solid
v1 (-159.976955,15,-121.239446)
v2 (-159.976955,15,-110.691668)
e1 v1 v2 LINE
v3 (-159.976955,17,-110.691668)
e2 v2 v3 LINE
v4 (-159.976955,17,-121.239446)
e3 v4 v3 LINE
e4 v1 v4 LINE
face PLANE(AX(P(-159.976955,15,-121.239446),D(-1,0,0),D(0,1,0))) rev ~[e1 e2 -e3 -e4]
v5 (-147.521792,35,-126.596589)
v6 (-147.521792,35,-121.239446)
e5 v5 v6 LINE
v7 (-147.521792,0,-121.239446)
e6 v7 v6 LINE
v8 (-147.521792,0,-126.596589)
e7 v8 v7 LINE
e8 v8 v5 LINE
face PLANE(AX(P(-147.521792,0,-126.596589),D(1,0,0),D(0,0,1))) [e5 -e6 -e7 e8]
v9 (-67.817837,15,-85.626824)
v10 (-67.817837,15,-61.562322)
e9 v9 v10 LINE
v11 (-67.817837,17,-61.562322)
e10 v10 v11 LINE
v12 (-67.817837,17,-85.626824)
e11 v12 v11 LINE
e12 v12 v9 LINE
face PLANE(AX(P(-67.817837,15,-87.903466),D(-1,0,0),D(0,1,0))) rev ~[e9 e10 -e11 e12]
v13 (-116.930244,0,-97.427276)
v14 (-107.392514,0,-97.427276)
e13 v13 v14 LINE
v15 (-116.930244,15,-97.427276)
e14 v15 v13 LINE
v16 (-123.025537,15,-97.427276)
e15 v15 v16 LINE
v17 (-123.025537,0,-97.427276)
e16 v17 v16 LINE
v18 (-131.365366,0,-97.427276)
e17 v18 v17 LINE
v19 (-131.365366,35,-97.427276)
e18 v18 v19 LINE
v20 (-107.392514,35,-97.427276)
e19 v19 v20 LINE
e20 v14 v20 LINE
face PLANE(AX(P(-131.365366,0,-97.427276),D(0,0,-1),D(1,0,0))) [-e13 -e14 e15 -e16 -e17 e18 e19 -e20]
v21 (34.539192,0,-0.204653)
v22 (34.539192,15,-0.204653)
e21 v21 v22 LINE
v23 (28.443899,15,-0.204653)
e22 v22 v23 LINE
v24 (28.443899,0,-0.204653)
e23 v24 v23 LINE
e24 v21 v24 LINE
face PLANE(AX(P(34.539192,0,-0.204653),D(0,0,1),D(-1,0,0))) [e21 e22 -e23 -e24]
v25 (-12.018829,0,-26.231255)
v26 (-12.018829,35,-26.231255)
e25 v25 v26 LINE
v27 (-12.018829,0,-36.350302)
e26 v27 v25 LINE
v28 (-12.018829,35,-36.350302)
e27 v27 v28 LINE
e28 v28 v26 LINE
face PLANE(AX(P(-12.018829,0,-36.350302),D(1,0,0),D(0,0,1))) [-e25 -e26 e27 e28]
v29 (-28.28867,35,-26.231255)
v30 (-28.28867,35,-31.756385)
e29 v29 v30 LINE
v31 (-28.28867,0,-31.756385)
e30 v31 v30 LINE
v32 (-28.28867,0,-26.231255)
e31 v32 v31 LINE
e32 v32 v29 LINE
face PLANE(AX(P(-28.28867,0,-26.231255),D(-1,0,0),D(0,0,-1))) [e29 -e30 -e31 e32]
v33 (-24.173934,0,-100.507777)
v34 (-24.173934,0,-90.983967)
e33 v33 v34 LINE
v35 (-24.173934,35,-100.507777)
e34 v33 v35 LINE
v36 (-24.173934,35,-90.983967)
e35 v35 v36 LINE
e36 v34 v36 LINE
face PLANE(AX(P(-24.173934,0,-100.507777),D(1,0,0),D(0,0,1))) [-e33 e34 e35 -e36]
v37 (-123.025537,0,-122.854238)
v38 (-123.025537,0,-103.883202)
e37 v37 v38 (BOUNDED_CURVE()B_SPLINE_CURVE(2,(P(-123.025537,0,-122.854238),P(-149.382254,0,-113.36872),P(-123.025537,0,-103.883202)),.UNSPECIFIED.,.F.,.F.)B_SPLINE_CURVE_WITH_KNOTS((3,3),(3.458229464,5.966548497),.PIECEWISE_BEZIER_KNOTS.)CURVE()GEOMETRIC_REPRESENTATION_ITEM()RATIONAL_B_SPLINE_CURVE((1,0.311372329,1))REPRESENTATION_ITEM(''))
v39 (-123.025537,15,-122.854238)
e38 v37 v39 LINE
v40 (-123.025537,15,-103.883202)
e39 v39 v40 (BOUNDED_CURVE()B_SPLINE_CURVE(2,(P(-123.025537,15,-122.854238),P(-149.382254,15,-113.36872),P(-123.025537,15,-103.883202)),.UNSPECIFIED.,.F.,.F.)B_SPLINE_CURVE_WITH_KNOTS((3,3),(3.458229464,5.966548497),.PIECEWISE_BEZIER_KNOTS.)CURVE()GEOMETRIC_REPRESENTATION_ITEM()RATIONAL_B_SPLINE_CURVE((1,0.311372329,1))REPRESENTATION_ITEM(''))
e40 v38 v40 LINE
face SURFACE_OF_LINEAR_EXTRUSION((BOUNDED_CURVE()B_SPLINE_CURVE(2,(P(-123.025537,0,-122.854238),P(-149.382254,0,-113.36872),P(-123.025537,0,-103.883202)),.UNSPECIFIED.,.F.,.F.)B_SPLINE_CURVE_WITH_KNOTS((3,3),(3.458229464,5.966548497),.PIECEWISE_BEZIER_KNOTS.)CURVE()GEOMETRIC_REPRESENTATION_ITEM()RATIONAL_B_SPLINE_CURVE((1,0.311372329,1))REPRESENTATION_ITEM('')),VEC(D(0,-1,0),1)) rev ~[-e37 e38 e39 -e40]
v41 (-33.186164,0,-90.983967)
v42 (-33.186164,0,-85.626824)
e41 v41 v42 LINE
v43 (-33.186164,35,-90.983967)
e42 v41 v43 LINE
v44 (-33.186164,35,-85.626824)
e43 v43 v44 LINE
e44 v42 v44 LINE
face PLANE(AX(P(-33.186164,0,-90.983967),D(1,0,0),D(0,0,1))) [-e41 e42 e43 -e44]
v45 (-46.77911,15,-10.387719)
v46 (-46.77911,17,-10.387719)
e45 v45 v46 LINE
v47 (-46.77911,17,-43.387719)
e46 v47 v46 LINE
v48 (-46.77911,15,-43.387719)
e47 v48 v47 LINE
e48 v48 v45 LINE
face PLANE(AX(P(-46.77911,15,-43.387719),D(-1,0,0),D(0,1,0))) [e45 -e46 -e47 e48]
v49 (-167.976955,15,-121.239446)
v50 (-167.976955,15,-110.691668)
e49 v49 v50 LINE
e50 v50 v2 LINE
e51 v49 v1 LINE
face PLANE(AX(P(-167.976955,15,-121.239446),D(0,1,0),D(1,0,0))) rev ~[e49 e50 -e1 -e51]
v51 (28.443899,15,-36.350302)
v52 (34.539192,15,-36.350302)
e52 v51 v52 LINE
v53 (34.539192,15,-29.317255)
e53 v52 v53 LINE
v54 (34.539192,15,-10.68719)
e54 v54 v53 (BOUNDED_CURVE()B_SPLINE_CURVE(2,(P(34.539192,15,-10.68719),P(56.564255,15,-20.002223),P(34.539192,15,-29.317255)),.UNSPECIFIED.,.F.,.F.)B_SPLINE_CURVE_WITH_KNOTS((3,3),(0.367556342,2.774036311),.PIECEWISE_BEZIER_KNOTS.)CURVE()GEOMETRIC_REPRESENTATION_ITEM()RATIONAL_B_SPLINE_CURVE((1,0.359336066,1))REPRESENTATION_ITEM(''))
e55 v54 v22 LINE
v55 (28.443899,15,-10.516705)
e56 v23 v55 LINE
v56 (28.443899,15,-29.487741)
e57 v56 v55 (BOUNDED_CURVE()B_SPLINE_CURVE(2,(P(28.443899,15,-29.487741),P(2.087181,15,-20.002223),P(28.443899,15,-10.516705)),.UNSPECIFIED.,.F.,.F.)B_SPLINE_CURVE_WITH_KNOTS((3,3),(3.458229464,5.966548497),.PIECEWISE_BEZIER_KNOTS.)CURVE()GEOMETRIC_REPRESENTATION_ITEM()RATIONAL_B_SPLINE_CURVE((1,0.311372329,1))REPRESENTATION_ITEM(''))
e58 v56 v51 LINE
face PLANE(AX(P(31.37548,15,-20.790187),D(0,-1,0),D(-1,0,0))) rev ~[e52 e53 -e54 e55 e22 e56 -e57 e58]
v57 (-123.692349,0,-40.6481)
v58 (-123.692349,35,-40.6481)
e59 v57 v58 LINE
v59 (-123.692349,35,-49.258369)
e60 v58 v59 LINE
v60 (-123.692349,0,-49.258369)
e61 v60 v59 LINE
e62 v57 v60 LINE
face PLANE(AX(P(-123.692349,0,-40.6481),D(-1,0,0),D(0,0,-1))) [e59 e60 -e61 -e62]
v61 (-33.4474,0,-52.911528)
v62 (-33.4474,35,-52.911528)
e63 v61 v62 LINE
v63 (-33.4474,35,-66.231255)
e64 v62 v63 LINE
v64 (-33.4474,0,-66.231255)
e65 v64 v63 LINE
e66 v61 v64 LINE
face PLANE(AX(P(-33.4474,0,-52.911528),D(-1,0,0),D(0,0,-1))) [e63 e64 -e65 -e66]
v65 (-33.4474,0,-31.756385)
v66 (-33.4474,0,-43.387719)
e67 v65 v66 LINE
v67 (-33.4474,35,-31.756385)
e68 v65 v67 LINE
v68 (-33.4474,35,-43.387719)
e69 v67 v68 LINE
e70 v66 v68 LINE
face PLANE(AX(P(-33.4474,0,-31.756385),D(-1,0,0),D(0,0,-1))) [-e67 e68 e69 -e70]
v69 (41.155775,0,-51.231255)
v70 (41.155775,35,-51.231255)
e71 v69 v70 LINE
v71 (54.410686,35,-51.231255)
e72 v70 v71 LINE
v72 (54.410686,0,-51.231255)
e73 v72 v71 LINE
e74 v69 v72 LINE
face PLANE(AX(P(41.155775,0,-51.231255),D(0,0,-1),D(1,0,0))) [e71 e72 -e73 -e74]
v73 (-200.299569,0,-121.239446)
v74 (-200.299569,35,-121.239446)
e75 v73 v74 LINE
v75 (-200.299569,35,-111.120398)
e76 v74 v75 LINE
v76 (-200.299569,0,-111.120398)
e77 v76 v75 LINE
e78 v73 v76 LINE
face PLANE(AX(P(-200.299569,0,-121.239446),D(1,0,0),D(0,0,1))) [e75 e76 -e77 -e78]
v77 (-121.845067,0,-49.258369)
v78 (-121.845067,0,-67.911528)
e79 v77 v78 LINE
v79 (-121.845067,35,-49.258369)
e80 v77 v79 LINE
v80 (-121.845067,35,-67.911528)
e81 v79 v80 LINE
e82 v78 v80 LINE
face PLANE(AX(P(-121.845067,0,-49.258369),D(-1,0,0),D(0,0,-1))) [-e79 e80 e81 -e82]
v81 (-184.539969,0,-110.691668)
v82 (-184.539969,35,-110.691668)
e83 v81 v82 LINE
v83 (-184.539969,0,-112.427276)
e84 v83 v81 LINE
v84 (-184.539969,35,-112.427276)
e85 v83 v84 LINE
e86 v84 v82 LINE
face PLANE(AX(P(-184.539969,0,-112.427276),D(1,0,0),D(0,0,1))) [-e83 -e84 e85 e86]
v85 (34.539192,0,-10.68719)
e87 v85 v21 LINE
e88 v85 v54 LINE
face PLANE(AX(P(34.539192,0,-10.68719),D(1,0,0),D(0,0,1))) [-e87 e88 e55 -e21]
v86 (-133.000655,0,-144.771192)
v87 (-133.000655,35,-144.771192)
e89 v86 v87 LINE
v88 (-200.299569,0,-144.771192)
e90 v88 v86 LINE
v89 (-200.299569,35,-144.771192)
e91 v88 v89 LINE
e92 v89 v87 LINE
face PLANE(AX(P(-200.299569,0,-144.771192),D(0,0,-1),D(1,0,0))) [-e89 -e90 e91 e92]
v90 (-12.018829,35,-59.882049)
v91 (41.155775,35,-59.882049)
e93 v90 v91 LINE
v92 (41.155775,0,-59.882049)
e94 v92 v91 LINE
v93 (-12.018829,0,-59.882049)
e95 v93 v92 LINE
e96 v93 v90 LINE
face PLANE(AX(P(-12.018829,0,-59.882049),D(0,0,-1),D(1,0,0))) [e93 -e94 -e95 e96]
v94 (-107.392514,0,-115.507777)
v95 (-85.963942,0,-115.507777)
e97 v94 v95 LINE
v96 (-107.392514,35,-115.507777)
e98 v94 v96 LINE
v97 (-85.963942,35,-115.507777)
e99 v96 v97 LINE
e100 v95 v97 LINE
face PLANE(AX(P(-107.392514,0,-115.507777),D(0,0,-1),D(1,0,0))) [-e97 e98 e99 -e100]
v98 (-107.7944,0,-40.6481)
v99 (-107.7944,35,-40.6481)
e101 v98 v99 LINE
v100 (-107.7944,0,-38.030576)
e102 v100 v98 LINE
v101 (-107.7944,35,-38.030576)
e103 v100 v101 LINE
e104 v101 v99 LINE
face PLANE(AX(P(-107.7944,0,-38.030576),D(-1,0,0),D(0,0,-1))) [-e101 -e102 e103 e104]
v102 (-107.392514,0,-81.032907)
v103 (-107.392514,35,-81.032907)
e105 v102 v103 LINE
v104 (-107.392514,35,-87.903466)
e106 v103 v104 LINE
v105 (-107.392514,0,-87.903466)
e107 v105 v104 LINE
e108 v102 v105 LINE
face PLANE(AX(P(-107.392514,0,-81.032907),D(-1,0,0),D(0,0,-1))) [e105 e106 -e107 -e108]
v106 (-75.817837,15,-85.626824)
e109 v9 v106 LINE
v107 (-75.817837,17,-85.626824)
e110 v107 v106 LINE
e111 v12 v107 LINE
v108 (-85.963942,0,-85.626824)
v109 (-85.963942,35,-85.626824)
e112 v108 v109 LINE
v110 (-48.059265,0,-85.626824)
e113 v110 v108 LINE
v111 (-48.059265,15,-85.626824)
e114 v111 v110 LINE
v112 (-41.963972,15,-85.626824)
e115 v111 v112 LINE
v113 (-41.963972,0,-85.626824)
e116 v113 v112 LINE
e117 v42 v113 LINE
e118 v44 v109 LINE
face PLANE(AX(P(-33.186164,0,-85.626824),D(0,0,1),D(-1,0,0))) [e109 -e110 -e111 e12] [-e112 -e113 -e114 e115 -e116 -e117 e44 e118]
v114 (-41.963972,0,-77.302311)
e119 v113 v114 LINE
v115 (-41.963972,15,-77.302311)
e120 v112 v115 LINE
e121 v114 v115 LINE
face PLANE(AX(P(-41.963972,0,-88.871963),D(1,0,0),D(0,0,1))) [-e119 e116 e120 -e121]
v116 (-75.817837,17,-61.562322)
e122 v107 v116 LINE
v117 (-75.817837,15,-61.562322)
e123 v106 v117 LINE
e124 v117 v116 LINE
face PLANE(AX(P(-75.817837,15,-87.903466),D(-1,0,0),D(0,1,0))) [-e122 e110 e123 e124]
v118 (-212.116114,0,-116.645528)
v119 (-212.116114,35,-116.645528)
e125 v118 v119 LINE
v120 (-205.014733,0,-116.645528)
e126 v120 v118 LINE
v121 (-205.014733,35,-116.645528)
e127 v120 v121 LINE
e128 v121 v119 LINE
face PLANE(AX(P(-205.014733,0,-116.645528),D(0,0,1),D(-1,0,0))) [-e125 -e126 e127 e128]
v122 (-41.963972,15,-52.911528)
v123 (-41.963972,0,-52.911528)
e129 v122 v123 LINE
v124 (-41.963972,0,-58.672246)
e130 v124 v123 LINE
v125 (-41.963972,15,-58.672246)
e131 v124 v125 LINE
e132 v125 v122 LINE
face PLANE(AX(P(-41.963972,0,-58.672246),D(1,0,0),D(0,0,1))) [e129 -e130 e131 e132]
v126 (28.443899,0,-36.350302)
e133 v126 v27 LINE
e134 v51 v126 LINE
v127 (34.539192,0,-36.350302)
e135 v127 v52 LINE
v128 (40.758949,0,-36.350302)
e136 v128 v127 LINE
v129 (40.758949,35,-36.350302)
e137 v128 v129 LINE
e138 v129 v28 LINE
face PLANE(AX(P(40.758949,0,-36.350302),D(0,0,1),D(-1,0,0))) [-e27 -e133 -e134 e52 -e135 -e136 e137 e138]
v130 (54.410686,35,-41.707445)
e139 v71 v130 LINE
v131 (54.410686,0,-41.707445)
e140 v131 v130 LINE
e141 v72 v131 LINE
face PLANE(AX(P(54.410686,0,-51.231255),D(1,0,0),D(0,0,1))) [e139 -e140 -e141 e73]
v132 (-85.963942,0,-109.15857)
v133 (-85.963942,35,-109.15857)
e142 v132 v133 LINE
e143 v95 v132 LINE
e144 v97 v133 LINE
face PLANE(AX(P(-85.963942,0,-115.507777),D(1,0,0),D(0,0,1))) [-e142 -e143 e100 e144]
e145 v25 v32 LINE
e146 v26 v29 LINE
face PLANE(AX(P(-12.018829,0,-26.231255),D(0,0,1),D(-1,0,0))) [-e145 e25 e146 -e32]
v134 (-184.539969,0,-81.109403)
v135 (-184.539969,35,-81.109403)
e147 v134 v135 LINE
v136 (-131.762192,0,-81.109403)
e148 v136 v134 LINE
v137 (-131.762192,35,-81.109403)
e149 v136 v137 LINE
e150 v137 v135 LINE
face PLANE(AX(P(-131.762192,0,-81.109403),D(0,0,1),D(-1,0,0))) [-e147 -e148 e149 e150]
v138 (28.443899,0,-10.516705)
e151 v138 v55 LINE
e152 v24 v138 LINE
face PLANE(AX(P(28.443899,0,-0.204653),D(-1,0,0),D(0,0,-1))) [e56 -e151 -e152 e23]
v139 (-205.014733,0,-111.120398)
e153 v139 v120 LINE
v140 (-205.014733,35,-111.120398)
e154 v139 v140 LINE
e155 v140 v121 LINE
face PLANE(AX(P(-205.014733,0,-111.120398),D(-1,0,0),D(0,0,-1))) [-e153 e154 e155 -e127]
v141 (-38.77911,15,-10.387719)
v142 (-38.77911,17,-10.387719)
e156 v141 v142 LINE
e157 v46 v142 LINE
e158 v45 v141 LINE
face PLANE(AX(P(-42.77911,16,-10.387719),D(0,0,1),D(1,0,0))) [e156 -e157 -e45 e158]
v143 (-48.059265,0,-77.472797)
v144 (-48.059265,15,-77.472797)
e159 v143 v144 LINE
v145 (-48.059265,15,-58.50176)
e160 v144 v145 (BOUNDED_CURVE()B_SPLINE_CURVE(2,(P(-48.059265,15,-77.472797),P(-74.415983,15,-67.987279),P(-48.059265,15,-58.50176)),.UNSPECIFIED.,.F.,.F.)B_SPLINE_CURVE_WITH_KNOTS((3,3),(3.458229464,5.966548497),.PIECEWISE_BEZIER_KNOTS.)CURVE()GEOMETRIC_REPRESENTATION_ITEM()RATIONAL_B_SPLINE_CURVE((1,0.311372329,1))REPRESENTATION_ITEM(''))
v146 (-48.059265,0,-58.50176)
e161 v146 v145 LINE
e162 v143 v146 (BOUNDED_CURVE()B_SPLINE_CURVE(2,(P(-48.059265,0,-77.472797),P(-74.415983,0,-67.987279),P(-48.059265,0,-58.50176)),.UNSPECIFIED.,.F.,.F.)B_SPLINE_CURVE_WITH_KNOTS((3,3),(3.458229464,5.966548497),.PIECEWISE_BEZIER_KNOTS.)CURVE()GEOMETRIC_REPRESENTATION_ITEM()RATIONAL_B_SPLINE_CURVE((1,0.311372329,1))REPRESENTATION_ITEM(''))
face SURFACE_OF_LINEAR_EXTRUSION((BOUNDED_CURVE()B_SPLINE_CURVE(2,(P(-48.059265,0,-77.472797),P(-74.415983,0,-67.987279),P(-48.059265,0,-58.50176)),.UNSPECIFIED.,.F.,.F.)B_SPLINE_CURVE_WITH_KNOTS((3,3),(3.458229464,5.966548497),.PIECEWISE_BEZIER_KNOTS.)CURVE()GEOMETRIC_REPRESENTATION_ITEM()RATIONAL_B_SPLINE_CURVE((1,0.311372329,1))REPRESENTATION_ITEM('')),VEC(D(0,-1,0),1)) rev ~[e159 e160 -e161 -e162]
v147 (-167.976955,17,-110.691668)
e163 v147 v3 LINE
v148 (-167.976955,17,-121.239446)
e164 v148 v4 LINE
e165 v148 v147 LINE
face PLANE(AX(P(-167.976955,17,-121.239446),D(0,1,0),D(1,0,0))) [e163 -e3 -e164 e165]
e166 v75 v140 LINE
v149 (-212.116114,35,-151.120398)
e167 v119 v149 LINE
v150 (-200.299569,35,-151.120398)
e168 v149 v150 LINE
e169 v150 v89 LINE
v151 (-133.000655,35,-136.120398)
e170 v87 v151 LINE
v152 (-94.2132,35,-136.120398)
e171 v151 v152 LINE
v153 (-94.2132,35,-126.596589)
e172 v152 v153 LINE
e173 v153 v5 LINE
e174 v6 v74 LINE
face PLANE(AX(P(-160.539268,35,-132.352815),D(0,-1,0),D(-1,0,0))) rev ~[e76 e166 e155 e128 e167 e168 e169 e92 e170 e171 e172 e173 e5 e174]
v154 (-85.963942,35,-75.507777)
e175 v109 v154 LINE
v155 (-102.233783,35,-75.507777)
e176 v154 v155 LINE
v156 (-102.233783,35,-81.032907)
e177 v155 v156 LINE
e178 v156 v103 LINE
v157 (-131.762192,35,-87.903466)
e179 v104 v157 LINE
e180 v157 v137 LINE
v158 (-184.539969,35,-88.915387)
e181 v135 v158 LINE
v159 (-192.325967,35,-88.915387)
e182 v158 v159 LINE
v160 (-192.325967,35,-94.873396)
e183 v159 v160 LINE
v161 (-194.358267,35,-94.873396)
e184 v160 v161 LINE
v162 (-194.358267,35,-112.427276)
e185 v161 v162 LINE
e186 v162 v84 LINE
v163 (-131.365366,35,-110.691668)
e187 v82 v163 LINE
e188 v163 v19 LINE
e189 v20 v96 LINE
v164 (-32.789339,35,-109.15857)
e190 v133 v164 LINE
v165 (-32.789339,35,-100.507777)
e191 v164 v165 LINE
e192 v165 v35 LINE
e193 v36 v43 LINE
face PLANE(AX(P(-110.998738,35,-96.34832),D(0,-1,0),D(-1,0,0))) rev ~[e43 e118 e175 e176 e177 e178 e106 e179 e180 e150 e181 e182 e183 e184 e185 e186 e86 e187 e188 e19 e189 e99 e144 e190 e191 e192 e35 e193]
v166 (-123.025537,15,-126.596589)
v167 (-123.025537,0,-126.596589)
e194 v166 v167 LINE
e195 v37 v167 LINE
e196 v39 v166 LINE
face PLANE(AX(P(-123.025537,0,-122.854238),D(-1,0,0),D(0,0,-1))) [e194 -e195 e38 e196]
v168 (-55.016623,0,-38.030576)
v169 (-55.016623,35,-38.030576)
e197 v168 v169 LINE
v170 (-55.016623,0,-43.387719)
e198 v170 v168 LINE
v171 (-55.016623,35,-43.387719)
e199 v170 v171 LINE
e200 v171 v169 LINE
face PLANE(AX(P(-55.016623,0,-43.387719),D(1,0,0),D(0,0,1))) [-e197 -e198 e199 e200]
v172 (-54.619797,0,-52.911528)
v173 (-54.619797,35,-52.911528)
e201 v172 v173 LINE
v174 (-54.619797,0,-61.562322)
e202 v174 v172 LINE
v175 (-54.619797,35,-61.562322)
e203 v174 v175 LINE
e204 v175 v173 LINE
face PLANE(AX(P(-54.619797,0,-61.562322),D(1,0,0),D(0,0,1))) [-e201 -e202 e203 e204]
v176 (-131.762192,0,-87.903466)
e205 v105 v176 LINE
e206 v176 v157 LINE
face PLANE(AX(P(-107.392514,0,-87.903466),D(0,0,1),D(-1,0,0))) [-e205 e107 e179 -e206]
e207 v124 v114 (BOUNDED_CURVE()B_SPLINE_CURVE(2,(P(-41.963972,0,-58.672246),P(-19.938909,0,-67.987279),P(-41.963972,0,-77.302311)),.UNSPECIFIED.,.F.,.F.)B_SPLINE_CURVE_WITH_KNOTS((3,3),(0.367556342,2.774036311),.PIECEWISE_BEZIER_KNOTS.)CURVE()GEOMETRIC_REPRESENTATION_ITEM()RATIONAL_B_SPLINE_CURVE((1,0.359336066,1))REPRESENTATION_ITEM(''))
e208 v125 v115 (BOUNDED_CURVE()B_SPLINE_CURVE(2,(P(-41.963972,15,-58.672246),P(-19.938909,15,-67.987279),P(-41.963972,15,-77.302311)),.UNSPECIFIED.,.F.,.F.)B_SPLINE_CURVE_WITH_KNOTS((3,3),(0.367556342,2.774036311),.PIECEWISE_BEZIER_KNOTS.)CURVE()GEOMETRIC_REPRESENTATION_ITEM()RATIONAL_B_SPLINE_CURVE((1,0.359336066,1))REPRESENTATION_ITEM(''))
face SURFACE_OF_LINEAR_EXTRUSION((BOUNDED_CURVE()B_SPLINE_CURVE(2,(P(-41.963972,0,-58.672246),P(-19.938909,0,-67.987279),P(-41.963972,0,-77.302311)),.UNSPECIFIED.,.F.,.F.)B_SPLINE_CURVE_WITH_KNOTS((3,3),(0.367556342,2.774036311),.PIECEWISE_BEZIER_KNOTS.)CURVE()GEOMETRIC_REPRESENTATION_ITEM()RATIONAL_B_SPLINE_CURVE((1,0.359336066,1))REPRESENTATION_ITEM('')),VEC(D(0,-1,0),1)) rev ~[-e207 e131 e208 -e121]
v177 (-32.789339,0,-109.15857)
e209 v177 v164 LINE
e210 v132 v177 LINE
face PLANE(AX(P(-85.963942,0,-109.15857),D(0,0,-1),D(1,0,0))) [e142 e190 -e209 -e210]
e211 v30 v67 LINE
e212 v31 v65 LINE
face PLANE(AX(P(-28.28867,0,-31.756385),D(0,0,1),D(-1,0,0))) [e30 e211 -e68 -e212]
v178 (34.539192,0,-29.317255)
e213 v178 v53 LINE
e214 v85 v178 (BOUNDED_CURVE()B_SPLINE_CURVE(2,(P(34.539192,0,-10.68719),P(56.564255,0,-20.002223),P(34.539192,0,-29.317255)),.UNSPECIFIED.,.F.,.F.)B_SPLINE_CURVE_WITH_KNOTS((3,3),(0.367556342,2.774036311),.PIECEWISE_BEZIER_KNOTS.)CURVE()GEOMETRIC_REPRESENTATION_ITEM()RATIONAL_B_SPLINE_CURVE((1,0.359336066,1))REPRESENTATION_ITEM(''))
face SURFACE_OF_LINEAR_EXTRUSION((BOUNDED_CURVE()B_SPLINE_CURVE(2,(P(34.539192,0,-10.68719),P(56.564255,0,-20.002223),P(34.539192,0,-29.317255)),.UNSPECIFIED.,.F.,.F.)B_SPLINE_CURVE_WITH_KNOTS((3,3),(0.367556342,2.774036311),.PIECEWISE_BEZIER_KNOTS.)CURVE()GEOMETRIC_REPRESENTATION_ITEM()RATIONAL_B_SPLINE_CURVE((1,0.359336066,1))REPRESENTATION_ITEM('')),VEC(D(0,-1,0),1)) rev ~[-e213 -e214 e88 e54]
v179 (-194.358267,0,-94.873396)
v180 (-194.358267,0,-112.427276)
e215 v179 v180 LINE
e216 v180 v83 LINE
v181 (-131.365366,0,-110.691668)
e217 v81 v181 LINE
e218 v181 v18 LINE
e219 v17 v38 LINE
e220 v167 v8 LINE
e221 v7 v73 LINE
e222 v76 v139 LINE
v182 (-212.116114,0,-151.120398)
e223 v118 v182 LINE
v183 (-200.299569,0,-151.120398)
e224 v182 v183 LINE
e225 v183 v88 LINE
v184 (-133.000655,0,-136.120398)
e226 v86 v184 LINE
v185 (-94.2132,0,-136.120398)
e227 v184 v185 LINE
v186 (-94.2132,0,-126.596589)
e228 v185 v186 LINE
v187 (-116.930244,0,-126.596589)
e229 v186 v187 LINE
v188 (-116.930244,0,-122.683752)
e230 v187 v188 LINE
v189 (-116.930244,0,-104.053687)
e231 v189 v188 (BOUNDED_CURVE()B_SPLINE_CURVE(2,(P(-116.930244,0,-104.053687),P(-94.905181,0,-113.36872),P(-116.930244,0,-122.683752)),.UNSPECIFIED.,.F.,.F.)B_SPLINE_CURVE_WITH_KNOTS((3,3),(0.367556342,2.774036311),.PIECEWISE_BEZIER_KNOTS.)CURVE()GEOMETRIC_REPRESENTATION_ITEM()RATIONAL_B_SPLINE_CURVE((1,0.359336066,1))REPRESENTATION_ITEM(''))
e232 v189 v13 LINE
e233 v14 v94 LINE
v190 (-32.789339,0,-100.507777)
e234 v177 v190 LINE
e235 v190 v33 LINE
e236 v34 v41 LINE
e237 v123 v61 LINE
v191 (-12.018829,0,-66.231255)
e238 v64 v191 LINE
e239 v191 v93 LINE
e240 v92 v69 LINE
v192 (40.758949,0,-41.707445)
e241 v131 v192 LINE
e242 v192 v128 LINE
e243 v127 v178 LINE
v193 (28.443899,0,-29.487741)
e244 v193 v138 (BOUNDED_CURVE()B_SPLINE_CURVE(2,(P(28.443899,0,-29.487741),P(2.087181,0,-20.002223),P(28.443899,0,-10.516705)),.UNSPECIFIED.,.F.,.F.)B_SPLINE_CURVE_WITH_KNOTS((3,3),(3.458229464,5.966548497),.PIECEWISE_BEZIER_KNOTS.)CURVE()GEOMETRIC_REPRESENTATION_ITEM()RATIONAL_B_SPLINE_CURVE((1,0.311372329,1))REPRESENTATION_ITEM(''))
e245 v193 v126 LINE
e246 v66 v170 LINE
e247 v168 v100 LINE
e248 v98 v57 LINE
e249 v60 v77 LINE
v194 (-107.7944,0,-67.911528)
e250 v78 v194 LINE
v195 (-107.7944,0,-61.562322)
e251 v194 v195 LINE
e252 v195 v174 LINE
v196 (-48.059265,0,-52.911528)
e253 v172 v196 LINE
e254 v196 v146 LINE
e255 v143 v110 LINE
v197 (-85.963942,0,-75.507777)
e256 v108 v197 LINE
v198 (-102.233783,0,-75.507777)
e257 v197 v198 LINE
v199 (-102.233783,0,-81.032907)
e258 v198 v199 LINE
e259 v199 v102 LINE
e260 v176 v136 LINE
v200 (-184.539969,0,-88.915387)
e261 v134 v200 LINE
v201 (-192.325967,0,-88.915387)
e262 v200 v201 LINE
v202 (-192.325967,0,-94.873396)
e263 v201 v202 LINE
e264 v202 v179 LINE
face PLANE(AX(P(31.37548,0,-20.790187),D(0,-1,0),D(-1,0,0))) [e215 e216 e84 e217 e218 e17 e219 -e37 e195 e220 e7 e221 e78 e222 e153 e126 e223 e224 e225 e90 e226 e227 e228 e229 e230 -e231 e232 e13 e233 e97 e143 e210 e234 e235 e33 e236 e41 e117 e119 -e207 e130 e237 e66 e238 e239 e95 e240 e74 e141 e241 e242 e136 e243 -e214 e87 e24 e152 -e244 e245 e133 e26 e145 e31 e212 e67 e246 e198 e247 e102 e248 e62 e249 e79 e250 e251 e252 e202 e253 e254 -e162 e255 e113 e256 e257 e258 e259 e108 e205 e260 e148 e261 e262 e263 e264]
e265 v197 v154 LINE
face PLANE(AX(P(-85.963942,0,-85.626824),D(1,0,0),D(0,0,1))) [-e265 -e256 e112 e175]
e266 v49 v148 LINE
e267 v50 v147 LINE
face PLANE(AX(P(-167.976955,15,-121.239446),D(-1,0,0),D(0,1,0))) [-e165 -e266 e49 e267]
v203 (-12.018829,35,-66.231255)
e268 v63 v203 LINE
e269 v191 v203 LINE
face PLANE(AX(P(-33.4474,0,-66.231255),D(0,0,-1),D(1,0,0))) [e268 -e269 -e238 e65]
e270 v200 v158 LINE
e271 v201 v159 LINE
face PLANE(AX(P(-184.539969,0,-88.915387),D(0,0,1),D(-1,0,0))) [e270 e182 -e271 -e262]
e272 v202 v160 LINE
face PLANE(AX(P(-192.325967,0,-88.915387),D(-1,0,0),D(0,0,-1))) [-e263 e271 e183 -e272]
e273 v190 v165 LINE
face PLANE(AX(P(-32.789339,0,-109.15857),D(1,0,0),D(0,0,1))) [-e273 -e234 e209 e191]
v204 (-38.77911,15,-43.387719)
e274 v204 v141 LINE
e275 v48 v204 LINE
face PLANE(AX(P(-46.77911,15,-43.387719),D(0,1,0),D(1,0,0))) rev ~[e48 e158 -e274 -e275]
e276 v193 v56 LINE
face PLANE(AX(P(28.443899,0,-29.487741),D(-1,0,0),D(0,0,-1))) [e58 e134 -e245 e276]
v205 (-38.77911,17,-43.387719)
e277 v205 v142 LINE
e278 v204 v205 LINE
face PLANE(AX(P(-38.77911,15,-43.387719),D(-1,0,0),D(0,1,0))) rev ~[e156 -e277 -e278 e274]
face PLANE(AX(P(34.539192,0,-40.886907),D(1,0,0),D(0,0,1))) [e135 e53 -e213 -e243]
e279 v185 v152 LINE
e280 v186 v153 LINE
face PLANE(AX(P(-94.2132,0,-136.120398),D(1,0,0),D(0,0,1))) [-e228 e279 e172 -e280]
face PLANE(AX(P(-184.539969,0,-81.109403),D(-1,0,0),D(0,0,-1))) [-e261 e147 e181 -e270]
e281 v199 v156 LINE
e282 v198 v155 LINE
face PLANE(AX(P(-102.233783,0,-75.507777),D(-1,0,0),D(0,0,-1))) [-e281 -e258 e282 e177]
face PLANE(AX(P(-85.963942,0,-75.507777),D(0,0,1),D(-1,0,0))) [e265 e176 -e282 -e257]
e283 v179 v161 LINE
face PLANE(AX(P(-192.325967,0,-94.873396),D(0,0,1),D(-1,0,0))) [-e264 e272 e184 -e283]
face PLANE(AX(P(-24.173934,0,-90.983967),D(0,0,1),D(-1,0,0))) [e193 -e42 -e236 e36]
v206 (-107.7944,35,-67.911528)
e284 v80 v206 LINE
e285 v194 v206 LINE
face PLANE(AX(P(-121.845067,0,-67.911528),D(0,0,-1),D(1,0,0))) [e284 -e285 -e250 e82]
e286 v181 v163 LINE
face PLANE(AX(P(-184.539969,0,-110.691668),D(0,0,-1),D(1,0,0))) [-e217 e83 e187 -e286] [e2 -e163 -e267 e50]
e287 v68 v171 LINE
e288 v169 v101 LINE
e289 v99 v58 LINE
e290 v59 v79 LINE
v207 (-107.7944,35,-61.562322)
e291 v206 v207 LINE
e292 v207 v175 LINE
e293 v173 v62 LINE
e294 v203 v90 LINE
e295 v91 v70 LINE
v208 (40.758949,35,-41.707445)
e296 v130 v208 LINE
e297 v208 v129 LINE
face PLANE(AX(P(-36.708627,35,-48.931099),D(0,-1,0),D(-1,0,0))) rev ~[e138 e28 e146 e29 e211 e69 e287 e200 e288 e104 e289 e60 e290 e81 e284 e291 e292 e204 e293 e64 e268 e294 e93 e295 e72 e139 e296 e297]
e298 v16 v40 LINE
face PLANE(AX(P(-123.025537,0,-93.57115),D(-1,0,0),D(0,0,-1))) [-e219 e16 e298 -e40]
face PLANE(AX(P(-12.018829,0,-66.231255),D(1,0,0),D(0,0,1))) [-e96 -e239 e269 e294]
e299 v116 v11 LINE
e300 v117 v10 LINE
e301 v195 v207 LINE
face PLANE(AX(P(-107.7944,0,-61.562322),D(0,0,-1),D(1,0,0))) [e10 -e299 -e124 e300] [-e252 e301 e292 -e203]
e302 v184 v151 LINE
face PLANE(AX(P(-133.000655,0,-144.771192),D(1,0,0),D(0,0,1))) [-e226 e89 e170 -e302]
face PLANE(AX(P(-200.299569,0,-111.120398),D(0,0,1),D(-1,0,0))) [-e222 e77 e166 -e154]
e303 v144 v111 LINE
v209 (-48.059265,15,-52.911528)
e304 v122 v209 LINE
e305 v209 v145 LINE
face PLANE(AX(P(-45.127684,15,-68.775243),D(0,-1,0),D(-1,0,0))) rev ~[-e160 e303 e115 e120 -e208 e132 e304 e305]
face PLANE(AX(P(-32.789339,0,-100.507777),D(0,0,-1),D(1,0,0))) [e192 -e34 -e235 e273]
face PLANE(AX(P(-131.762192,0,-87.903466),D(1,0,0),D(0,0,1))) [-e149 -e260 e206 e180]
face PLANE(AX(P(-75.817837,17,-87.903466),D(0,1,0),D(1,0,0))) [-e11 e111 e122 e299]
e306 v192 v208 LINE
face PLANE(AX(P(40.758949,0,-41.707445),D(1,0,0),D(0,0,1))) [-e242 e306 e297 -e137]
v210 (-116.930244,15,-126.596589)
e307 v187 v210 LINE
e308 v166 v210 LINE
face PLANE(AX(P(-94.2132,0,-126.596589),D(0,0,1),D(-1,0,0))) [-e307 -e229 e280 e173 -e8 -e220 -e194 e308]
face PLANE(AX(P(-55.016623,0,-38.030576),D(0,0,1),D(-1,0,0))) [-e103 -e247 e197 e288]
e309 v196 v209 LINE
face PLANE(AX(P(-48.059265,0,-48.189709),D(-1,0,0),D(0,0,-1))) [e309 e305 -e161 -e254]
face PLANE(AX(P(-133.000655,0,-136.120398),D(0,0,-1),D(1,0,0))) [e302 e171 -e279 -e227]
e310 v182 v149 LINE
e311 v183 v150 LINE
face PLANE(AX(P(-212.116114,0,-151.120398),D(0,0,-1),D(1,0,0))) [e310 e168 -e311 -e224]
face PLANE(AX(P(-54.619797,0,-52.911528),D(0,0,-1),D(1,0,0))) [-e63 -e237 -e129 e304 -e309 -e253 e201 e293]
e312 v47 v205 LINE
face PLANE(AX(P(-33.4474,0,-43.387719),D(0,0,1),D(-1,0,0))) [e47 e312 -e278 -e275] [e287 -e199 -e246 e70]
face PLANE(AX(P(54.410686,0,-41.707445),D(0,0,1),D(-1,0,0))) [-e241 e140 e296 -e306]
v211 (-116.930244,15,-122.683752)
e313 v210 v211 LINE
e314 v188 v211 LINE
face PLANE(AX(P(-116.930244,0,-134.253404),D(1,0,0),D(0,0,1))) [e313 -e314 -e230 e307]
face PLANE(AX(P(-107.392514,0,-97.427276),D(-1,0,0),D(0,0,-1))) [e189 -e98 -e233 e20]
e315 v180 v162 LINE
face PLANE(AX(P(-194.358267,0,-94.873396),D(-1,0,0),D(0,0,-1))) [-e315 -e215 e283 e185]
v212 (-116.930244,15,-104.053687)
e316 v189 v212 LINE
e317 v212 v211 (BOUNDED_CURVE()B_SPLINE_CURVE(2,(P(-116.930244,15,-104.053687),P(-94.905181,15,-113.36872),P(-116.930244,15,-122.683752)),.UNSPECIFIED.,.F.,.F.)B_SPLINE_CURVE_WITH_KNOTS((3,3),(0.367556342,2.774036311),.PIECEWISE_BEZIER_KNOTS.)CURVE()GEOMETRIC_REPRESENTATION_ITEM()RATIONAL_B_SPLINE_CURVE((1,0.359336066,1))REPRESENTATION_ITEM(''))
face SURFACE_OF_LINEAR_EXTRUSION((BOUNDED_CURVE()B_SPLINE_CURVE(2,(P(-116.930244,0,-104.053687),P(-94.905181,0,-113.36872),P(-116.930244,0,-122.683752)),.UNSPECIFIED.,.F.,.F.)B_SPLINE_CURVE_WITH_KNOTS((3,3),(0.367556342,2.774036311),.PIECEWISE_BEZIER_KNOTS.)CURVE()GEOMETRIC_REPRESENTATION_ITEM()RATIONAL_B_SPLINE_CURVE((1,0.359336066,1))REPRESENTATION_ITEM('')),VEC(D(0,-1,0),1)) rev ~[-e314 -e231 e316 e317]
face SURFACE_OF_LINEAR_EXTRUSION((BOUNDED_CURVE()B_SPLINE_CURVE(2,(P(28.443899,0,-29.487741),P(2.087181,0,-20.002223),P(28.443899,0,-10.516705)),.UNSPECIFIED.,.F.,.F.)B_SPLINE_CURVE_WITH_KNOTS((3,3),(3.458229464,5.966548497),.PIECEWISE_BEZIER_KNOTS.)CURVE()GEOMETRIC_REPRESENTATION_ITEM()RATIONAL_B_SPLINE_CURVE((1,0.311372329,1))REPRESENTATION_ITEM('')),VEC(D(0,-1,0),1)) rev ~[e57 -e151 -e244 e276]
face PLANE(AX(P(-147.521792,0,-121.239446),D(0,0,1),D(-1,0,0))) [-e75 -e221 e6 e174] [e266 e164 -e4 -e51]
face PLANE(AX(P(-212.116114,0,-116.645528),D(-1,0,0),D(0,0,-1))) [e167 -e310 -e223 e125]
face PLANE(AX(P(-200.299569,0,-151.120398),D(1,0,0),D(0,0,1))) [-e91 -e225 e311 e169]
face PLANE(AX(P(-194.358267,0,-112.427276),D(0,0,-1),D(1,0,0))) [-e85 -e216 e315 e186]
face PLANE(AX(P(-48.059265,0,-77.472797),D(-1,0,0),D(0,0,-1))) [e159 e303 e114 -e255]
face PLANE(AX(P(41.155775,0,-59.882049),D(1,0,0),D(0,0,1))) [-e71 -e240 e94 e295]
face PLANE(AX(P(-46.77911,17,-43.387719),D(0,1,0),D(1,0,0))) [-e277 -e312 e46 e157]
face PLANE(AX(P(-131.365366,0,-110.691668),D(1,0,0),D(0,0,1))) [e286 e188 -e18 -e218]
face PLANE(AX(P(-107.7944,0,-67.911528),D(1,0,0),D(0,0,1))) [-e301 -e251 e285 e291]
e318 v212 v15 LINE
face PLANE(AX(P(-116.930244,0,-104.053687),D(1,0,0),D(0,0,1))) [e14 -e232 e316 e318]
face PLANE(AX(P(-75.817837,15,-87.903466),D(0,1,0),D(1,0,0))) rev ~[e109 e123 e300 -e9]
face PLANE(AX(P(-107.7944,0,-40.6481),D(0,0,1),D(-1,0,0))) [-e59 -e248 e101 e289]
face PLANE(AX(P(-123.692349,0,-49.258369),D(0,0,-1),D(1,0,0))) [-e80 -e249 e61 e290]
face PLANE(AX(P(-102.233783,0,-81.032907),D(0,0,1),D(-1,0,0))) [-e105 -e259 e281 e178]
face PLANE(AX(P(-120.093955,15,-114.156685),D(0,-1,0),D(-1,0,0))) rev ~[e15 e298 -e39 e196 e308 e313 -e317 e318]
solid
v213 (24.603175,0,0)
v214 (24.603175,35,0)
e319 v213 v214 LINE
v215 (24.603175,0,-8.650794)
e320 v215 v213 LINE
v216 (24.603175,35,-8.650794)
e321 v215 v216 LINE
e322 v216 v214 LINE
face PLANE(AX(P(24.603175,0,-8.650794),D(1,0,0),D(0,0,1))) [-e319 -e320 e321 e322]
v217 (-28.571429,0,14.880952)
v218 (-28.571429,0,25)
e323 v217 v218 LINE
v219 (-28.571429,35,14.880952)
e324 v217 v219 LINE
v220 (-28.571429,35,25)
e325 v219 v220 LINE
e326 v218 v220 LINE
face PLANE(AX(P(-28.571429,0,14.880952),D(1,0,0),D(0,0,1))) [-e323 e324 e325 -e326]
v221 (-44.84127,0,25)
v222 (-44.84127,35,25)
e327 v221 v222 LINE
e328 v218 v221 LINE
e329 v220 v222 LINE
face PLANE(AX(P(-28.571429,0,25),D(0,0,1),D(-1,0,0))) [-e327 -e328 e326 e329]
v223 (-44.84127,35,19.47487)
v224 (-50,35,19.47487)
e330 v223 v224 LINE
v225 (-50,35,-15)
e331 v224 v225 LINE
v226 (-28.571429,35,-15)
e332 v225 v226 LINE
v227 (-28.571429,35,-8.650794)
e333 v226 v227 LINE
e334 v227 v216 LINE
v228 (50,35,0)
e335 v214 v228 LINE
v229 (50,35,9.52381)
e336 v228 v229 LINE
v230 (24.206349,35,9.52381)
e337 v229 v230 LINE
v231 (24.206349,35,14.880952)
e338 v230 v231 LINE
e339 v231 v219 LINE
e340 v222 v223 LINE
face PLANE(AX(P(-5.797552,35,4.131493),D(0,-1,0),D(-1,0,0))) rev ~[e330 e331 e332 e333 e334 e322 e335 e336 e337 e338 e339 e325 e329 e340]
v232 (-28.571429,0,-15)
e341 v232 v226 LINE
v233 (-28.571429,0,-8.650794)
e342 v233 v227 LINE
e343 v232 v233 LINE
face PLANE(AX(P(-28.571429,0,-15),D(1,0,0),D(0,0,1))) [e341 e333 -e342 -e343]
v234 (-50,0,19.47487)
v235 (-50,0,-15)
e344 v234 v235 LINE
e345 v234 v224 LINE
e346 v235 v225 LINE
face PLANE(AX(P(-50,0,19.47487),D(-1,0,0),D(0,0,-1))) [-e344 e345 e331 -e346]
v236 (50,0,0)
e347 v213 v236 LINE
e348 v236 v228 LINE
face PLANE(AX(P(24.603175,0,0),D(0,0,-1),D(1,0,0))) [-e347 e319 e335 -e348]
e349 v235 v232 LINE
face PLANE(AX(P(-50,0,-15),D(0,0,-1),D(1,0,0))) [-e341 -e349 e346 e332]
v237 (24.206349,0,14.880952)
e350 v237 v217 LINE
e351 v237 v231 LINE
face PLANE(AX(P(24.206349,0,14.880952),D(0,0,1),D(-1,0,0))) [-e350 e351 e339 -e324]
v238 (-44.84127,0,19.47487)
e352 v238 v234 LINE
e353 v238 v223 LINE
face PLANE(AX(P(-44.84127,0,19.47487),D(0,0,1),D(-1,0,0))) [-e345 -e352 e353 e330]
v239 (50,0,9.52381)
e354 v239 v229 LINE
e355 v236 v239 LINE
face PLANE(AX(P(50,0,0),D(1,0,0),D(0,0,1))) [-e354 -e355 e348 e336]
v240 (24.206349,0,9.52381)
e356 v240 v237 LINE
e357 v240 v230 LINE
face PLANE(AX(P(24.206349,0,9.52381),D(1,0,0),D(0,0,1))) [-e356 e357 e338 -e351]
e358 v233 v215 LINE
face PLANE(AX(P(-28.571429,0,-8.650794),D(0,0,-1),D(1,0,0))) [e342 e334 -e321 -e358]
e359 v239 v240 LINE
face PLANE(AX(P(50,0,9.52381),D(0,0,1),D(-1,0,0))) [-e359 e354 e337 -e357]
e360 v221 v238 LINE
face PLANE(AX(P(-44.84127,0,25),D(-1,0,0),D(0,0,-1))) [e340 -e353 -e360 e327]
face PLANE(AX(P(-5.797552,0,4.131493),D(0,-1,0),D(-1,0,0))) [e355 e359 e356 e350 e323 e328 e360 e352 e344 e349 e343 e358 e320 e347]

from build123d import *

# Parameters (mm, degrees)
EXTRUDE_1_DEPTH   = 35
EXTRUDE_1_2_DEPTH = 35
EXTRUDE_1_3_DEPTH = 35
EXTRUDE_1_4_DEPTH = 35
EXTRUDE_2_DEPTH   = 15
SKETCH_3_W        = 8
SKETCH_3_H        = 2
EXTRUDE_3_DEPTH   = 23
SKETCH_4_W        = 8
SKETCH_4_H        = 2
EXTRUDE_4_DEPTH   = 30
SKETCH_5_W        = 8
SKETCH_5_H        = 2
EXTRUDE_5_DEPTH   = 33


with BuildPart() as part:
    # 草图1 → 凸台-拉伸1 (new body)
    with BuildSketch(Plane(origin=(0, 0, 0), x_dir=(1, 0, 0), z_dir=(0, 1, 0))):
        Polygon((-50, 15), (-28.571428571, 15), (-28.571428571, 8.650793651), (24.603174603, 8.650793651), (24.603174603, 0), (50, 0), (50, -9.523809524), (24.206349206, -9.523809524), (24.206349206, -14.880952381), (-28.571428571, -14.880952381), (-28.571428571, -25), (-44.841269841, -25), (-44.841269841, -19.474869842), (-50, -19.474869842), align=None)
    extrude(amount=EXTRUDE_1_DEPTH)


with BuildPart() as body_2:
    # 草图1 → Extrude 1 2 (new body)
    with BuildSketch(Plane(origin=(0, 0, 0), x_dir=(1, 0, 0), z_dir=(0, 1, 0))):
        Polygon((-107.794400387, 61.56232169), (-54.619797212, 61.56232169), (-54.619797212, 52.91152804), (-33.447399942, 52.91152804), (-33.447399942, 66.231254849), (-12.018828513, 66.231254849), (-12.018828513, 59.8820485), (41.155774662, 59.8820485), (41.155774662, 51.231254849), (54.410686269, 51.231254849), (54.410686269, 41.707445325), (40.758949265, 41.707445325), (40.758949265, 36.350302468), (-12.018828513, 36.350302468), (-12.018828513, 26.231254849), (-28.288669783, 26.231254849), (-28.288669783, 31.756385007), (-33.447399942, 31.756385007), (-33.447399942, 43.387718516), (-55.016622609, 43.387718516), (-55.016622609, 38.030575659), (-107.794400387, 38.030575659), (-107.794400387, 40.648099537), (-123.6923492, 40.648099537), (-123.6923492, 49.25836902), (-121.845067006, 49.25836902), (-121.845067006, 67.91152804), (-107.794400387, 67.91152804), align=None)
    extrude(amount=EXTRUDE_1_2_DEPTH)



with BuildPart() as body_3:
    # 草图1 → Extrude 1 3 (new body)
    with BuildSketch(Plane(origin=(0, 0, 0), x_dir=(1, 0, 0), z_dir=(0, 1, 0))):
        Polygon((-184.539969284, 110.691667643), (-131.365366109, 110.691667643), (-131.365366109, 97.427275906), (-107.392513521, 97.427275906), (-107.392513521, 115.507776756), (-85.963942093, 115.507776756), (-85.963942093, 109.158570406), (-32.789338918, 109.158570406), (-32.789338918, 100.507776756), (-24.173934052, 100.507776756), (-24.173934052, 90.983967232), (-33.186164315, 90.983967232), (-33.186164315, 85.626824375), (-85.963942093, 85.626824375), (-85.963942093, 75.507776756), (-102.233783362, 75.507776756), (-102.233783362, 81.032906914), (-107.392513521, 81.032906914), (-107.392513521, 87.903466382), (-131.762191506, 87.903466382), (-131.762191506, 81.109403196), (-184.539969284, 81.109403196), (-184.539969284, 88.915387374), (-192.325966845, 88.915387374), (-192.325966845, 94.87339593), (-194.358266929, 94.87339593), (-194.358266929, 112.427275906), (-184.539969284, 112.427275906), align=None)
    extrude(amount=EXTRUDE_1_3_DEPTH)


with BuildPart() as body_4:
    # 草图1 → Extrude 1 4 (new body)
    with BuildSketch(Plane(origin=(0, 0, 0), x_dir=(1, 0, 0), z_dir=(0, 1, 0))):
        Polygon((-200.299569392, 144.7711918), (-133.000655414, 144.7711918), (-133.000655414, 136.120398149), (-94.213200191, 136.120398149), (-94.213200191, 126.596588625), (-147.521791614, 126.596588625), (-147.521791614, 121.239445768), (-200.299569392, 121.239445768), (-200.299569392, 111.120398149), (-205.014733331, 111.120398149), (-205.014733331, 116.645528307), (-212.116113646, 116.645528307), (-212.116113646, 151.120398149), (-200.299569392, 151.120398149), align=None)
    extrude(amount=EXTRUDE_1_4_DEPTH)


with BuildPart() as body_2_1:
    add(body_2.part)

    add(body_3.part)  # 凸台-拉伸2 merges body 3

    add(body_4.part)  # 凸台-拉伸2 merges body 4
    # 草图2 → 凸台-拉伸2 (add)
    with BuildSketch(Plane(origin=(0, 0, 0), x_dir=(1, 0, 0), z_dir=(0, 1, 0))):
        with BuildLine():
            Line((28.443898962, 29.487740992), (28.443898962, 41.999795529))
            Line((28.443898962, 41.999795529), (34.539192055, 40.886907122))
            Line((34.539192055, 40.886907122), (34.539192055, 29.317255347))
            add(Edge.make_bspline(
                [(34.539192055, 10.687190226), (56.564255054, 20.002222786), (34.539192055, 29.317255347)],
                knots=[0.367556342, 0.367556342, 0.367556342, 2.774036311, 2.774036311, 2.774036311], degree=2, weights=[1, 0.359336066, 1]))
            Line((34.539192055, 10.687190226), (34.539192055, 0.204653136))
            Line((34.539192055, 0.204653136), (28.443898962, 0.204653136))
            Line((28.443898962, 0.204653136), (28.443898962, 10.516704581))
            add(Edge.make_bspline(
                [(28.443898962, 29.487740992), (2.087181458, 20.002222786), (28.443898962, 10.516704581)],
                knots=[3.458229464, 3.458229464, 3.458229464, 5.966548497, 5.966548497, 5.966548497], degree=2, weights=[1, 0.311372329, 1]))
        make_face()
        with BuildLine():
            Line((-48.059265181, 77.472796895), (-48.059265181, 89.984851433))
            Line((-48.059265181, 89.984851433), (-41.963972088, 88.871963026))
            Line((-41.963972088, 88.871963026), (-41.963972088, 77.30231125))
            add(Edge.make_bspline(
                [(-41.963972088, 58.67224613), (-19.938909089, 67.98727869), (-41.963972088, 77.30231125)],
                knots=[0.367556342, 0.367556342, 0.367556342, 2.774036311, 2.774036311, 2.774036311], degree=2, weights=[1, 0.359336066, 1]))
            Line((-41.963972088, 58.67224613), (-41.963972088, 48.18970904))
            Line((-41.963972088, 48.18970904), (-48.059265181, 48.18970904))
            Line((-48.059265181, 48.18970904), (-48.059265181, 58.501760485))
            add(Edge.make_bspline(
                [(-48.059265181, 77.472796895), (-74.415982685, 67.98727869), (-48.059265181, 58.501760485)],
                knots=[3.458229464, 3.458229464, 3.458229464, 5.966548497, 5.966548497, 5.966548497], degree=2, weights=[1, 0.311372329, 1]))
        make_face()
        with BuildLine():
            Line((-123.025536653, 135.366292674), (-116.93024356, 134.253404267))
            Line((-116.93024356, 134.253404267), (-116.93024356, 122.683752491))
            add(Edge.make_bspline(
                [(-116.93024356, 104.053687371), (-94.905180561, 113.368719931), (-116.93024356, 122.683752491)],
                knots=[0.367556342, 0.367556342, 0.367556342, 2.774036311, 2.774036311, 2.774036311], degree=2, weights=[1, 0.359336066, 1]))
            Line((-116.93024356, 104.053687371), (-116.93024356, 93.571150281))
            Line((-116.93024356, 93.571150281), (-123.025536653, 93.571150281))
            Line((-123.025536653, 93.571150281), (-123.025536653, 103.883201726))
            add(Edge.make_bspline(
                [(-123.025536653, 122.854238137), (-149.382254157, 113.368719931), (-123.025536653, 103.883201726)],
                knots=[3.458229464, 3.458229464, 3.458229464, 5.966548497, 5.966548497, 5.966548497], degree=2, weights=[1, 0.311372329, 1]))
            Line((-123.025536653, 122.854238137), (-123.025536653, 135.366292674))
        make_face()
    extrude(amount=EXTRUDE_2_DEPTH)

    # 草图3 → 凸台-拉伸3 (add)
    with BuildSketch(Plane.XY.offset(-121.239445768)):
        with Locations((-163.976955411, 16)):
            Rectangle(SKETCH_3_W, SKETCH_3_H)
    extrude(amount=EXTRUDE_3_DEPTH)

    # 草图4 → 凸台-拉伸4 (add)
    with BuildSketch(Plane.XY.offset(-87.903466382)):
        with Locations((-71.817837358, 16)):
            Rectangle(SKETCH_4_W, SKETCH_4_H)
    extrude(amount=EXTRUDE_4_DEPTH)

    # 草图5 → 凸台-拉伸5 (add)
    with BuildSketch(Plane.XY.offset(-43.387718516)):
        with Locations((-42.779110495, 16)):
            Rectangle(SKETCH_5_W, SKETCH_5_H)
    extrude(amount=EXTRUDE_5_DEPTH)


solid = Compound([part.part, body_2_1.part])
